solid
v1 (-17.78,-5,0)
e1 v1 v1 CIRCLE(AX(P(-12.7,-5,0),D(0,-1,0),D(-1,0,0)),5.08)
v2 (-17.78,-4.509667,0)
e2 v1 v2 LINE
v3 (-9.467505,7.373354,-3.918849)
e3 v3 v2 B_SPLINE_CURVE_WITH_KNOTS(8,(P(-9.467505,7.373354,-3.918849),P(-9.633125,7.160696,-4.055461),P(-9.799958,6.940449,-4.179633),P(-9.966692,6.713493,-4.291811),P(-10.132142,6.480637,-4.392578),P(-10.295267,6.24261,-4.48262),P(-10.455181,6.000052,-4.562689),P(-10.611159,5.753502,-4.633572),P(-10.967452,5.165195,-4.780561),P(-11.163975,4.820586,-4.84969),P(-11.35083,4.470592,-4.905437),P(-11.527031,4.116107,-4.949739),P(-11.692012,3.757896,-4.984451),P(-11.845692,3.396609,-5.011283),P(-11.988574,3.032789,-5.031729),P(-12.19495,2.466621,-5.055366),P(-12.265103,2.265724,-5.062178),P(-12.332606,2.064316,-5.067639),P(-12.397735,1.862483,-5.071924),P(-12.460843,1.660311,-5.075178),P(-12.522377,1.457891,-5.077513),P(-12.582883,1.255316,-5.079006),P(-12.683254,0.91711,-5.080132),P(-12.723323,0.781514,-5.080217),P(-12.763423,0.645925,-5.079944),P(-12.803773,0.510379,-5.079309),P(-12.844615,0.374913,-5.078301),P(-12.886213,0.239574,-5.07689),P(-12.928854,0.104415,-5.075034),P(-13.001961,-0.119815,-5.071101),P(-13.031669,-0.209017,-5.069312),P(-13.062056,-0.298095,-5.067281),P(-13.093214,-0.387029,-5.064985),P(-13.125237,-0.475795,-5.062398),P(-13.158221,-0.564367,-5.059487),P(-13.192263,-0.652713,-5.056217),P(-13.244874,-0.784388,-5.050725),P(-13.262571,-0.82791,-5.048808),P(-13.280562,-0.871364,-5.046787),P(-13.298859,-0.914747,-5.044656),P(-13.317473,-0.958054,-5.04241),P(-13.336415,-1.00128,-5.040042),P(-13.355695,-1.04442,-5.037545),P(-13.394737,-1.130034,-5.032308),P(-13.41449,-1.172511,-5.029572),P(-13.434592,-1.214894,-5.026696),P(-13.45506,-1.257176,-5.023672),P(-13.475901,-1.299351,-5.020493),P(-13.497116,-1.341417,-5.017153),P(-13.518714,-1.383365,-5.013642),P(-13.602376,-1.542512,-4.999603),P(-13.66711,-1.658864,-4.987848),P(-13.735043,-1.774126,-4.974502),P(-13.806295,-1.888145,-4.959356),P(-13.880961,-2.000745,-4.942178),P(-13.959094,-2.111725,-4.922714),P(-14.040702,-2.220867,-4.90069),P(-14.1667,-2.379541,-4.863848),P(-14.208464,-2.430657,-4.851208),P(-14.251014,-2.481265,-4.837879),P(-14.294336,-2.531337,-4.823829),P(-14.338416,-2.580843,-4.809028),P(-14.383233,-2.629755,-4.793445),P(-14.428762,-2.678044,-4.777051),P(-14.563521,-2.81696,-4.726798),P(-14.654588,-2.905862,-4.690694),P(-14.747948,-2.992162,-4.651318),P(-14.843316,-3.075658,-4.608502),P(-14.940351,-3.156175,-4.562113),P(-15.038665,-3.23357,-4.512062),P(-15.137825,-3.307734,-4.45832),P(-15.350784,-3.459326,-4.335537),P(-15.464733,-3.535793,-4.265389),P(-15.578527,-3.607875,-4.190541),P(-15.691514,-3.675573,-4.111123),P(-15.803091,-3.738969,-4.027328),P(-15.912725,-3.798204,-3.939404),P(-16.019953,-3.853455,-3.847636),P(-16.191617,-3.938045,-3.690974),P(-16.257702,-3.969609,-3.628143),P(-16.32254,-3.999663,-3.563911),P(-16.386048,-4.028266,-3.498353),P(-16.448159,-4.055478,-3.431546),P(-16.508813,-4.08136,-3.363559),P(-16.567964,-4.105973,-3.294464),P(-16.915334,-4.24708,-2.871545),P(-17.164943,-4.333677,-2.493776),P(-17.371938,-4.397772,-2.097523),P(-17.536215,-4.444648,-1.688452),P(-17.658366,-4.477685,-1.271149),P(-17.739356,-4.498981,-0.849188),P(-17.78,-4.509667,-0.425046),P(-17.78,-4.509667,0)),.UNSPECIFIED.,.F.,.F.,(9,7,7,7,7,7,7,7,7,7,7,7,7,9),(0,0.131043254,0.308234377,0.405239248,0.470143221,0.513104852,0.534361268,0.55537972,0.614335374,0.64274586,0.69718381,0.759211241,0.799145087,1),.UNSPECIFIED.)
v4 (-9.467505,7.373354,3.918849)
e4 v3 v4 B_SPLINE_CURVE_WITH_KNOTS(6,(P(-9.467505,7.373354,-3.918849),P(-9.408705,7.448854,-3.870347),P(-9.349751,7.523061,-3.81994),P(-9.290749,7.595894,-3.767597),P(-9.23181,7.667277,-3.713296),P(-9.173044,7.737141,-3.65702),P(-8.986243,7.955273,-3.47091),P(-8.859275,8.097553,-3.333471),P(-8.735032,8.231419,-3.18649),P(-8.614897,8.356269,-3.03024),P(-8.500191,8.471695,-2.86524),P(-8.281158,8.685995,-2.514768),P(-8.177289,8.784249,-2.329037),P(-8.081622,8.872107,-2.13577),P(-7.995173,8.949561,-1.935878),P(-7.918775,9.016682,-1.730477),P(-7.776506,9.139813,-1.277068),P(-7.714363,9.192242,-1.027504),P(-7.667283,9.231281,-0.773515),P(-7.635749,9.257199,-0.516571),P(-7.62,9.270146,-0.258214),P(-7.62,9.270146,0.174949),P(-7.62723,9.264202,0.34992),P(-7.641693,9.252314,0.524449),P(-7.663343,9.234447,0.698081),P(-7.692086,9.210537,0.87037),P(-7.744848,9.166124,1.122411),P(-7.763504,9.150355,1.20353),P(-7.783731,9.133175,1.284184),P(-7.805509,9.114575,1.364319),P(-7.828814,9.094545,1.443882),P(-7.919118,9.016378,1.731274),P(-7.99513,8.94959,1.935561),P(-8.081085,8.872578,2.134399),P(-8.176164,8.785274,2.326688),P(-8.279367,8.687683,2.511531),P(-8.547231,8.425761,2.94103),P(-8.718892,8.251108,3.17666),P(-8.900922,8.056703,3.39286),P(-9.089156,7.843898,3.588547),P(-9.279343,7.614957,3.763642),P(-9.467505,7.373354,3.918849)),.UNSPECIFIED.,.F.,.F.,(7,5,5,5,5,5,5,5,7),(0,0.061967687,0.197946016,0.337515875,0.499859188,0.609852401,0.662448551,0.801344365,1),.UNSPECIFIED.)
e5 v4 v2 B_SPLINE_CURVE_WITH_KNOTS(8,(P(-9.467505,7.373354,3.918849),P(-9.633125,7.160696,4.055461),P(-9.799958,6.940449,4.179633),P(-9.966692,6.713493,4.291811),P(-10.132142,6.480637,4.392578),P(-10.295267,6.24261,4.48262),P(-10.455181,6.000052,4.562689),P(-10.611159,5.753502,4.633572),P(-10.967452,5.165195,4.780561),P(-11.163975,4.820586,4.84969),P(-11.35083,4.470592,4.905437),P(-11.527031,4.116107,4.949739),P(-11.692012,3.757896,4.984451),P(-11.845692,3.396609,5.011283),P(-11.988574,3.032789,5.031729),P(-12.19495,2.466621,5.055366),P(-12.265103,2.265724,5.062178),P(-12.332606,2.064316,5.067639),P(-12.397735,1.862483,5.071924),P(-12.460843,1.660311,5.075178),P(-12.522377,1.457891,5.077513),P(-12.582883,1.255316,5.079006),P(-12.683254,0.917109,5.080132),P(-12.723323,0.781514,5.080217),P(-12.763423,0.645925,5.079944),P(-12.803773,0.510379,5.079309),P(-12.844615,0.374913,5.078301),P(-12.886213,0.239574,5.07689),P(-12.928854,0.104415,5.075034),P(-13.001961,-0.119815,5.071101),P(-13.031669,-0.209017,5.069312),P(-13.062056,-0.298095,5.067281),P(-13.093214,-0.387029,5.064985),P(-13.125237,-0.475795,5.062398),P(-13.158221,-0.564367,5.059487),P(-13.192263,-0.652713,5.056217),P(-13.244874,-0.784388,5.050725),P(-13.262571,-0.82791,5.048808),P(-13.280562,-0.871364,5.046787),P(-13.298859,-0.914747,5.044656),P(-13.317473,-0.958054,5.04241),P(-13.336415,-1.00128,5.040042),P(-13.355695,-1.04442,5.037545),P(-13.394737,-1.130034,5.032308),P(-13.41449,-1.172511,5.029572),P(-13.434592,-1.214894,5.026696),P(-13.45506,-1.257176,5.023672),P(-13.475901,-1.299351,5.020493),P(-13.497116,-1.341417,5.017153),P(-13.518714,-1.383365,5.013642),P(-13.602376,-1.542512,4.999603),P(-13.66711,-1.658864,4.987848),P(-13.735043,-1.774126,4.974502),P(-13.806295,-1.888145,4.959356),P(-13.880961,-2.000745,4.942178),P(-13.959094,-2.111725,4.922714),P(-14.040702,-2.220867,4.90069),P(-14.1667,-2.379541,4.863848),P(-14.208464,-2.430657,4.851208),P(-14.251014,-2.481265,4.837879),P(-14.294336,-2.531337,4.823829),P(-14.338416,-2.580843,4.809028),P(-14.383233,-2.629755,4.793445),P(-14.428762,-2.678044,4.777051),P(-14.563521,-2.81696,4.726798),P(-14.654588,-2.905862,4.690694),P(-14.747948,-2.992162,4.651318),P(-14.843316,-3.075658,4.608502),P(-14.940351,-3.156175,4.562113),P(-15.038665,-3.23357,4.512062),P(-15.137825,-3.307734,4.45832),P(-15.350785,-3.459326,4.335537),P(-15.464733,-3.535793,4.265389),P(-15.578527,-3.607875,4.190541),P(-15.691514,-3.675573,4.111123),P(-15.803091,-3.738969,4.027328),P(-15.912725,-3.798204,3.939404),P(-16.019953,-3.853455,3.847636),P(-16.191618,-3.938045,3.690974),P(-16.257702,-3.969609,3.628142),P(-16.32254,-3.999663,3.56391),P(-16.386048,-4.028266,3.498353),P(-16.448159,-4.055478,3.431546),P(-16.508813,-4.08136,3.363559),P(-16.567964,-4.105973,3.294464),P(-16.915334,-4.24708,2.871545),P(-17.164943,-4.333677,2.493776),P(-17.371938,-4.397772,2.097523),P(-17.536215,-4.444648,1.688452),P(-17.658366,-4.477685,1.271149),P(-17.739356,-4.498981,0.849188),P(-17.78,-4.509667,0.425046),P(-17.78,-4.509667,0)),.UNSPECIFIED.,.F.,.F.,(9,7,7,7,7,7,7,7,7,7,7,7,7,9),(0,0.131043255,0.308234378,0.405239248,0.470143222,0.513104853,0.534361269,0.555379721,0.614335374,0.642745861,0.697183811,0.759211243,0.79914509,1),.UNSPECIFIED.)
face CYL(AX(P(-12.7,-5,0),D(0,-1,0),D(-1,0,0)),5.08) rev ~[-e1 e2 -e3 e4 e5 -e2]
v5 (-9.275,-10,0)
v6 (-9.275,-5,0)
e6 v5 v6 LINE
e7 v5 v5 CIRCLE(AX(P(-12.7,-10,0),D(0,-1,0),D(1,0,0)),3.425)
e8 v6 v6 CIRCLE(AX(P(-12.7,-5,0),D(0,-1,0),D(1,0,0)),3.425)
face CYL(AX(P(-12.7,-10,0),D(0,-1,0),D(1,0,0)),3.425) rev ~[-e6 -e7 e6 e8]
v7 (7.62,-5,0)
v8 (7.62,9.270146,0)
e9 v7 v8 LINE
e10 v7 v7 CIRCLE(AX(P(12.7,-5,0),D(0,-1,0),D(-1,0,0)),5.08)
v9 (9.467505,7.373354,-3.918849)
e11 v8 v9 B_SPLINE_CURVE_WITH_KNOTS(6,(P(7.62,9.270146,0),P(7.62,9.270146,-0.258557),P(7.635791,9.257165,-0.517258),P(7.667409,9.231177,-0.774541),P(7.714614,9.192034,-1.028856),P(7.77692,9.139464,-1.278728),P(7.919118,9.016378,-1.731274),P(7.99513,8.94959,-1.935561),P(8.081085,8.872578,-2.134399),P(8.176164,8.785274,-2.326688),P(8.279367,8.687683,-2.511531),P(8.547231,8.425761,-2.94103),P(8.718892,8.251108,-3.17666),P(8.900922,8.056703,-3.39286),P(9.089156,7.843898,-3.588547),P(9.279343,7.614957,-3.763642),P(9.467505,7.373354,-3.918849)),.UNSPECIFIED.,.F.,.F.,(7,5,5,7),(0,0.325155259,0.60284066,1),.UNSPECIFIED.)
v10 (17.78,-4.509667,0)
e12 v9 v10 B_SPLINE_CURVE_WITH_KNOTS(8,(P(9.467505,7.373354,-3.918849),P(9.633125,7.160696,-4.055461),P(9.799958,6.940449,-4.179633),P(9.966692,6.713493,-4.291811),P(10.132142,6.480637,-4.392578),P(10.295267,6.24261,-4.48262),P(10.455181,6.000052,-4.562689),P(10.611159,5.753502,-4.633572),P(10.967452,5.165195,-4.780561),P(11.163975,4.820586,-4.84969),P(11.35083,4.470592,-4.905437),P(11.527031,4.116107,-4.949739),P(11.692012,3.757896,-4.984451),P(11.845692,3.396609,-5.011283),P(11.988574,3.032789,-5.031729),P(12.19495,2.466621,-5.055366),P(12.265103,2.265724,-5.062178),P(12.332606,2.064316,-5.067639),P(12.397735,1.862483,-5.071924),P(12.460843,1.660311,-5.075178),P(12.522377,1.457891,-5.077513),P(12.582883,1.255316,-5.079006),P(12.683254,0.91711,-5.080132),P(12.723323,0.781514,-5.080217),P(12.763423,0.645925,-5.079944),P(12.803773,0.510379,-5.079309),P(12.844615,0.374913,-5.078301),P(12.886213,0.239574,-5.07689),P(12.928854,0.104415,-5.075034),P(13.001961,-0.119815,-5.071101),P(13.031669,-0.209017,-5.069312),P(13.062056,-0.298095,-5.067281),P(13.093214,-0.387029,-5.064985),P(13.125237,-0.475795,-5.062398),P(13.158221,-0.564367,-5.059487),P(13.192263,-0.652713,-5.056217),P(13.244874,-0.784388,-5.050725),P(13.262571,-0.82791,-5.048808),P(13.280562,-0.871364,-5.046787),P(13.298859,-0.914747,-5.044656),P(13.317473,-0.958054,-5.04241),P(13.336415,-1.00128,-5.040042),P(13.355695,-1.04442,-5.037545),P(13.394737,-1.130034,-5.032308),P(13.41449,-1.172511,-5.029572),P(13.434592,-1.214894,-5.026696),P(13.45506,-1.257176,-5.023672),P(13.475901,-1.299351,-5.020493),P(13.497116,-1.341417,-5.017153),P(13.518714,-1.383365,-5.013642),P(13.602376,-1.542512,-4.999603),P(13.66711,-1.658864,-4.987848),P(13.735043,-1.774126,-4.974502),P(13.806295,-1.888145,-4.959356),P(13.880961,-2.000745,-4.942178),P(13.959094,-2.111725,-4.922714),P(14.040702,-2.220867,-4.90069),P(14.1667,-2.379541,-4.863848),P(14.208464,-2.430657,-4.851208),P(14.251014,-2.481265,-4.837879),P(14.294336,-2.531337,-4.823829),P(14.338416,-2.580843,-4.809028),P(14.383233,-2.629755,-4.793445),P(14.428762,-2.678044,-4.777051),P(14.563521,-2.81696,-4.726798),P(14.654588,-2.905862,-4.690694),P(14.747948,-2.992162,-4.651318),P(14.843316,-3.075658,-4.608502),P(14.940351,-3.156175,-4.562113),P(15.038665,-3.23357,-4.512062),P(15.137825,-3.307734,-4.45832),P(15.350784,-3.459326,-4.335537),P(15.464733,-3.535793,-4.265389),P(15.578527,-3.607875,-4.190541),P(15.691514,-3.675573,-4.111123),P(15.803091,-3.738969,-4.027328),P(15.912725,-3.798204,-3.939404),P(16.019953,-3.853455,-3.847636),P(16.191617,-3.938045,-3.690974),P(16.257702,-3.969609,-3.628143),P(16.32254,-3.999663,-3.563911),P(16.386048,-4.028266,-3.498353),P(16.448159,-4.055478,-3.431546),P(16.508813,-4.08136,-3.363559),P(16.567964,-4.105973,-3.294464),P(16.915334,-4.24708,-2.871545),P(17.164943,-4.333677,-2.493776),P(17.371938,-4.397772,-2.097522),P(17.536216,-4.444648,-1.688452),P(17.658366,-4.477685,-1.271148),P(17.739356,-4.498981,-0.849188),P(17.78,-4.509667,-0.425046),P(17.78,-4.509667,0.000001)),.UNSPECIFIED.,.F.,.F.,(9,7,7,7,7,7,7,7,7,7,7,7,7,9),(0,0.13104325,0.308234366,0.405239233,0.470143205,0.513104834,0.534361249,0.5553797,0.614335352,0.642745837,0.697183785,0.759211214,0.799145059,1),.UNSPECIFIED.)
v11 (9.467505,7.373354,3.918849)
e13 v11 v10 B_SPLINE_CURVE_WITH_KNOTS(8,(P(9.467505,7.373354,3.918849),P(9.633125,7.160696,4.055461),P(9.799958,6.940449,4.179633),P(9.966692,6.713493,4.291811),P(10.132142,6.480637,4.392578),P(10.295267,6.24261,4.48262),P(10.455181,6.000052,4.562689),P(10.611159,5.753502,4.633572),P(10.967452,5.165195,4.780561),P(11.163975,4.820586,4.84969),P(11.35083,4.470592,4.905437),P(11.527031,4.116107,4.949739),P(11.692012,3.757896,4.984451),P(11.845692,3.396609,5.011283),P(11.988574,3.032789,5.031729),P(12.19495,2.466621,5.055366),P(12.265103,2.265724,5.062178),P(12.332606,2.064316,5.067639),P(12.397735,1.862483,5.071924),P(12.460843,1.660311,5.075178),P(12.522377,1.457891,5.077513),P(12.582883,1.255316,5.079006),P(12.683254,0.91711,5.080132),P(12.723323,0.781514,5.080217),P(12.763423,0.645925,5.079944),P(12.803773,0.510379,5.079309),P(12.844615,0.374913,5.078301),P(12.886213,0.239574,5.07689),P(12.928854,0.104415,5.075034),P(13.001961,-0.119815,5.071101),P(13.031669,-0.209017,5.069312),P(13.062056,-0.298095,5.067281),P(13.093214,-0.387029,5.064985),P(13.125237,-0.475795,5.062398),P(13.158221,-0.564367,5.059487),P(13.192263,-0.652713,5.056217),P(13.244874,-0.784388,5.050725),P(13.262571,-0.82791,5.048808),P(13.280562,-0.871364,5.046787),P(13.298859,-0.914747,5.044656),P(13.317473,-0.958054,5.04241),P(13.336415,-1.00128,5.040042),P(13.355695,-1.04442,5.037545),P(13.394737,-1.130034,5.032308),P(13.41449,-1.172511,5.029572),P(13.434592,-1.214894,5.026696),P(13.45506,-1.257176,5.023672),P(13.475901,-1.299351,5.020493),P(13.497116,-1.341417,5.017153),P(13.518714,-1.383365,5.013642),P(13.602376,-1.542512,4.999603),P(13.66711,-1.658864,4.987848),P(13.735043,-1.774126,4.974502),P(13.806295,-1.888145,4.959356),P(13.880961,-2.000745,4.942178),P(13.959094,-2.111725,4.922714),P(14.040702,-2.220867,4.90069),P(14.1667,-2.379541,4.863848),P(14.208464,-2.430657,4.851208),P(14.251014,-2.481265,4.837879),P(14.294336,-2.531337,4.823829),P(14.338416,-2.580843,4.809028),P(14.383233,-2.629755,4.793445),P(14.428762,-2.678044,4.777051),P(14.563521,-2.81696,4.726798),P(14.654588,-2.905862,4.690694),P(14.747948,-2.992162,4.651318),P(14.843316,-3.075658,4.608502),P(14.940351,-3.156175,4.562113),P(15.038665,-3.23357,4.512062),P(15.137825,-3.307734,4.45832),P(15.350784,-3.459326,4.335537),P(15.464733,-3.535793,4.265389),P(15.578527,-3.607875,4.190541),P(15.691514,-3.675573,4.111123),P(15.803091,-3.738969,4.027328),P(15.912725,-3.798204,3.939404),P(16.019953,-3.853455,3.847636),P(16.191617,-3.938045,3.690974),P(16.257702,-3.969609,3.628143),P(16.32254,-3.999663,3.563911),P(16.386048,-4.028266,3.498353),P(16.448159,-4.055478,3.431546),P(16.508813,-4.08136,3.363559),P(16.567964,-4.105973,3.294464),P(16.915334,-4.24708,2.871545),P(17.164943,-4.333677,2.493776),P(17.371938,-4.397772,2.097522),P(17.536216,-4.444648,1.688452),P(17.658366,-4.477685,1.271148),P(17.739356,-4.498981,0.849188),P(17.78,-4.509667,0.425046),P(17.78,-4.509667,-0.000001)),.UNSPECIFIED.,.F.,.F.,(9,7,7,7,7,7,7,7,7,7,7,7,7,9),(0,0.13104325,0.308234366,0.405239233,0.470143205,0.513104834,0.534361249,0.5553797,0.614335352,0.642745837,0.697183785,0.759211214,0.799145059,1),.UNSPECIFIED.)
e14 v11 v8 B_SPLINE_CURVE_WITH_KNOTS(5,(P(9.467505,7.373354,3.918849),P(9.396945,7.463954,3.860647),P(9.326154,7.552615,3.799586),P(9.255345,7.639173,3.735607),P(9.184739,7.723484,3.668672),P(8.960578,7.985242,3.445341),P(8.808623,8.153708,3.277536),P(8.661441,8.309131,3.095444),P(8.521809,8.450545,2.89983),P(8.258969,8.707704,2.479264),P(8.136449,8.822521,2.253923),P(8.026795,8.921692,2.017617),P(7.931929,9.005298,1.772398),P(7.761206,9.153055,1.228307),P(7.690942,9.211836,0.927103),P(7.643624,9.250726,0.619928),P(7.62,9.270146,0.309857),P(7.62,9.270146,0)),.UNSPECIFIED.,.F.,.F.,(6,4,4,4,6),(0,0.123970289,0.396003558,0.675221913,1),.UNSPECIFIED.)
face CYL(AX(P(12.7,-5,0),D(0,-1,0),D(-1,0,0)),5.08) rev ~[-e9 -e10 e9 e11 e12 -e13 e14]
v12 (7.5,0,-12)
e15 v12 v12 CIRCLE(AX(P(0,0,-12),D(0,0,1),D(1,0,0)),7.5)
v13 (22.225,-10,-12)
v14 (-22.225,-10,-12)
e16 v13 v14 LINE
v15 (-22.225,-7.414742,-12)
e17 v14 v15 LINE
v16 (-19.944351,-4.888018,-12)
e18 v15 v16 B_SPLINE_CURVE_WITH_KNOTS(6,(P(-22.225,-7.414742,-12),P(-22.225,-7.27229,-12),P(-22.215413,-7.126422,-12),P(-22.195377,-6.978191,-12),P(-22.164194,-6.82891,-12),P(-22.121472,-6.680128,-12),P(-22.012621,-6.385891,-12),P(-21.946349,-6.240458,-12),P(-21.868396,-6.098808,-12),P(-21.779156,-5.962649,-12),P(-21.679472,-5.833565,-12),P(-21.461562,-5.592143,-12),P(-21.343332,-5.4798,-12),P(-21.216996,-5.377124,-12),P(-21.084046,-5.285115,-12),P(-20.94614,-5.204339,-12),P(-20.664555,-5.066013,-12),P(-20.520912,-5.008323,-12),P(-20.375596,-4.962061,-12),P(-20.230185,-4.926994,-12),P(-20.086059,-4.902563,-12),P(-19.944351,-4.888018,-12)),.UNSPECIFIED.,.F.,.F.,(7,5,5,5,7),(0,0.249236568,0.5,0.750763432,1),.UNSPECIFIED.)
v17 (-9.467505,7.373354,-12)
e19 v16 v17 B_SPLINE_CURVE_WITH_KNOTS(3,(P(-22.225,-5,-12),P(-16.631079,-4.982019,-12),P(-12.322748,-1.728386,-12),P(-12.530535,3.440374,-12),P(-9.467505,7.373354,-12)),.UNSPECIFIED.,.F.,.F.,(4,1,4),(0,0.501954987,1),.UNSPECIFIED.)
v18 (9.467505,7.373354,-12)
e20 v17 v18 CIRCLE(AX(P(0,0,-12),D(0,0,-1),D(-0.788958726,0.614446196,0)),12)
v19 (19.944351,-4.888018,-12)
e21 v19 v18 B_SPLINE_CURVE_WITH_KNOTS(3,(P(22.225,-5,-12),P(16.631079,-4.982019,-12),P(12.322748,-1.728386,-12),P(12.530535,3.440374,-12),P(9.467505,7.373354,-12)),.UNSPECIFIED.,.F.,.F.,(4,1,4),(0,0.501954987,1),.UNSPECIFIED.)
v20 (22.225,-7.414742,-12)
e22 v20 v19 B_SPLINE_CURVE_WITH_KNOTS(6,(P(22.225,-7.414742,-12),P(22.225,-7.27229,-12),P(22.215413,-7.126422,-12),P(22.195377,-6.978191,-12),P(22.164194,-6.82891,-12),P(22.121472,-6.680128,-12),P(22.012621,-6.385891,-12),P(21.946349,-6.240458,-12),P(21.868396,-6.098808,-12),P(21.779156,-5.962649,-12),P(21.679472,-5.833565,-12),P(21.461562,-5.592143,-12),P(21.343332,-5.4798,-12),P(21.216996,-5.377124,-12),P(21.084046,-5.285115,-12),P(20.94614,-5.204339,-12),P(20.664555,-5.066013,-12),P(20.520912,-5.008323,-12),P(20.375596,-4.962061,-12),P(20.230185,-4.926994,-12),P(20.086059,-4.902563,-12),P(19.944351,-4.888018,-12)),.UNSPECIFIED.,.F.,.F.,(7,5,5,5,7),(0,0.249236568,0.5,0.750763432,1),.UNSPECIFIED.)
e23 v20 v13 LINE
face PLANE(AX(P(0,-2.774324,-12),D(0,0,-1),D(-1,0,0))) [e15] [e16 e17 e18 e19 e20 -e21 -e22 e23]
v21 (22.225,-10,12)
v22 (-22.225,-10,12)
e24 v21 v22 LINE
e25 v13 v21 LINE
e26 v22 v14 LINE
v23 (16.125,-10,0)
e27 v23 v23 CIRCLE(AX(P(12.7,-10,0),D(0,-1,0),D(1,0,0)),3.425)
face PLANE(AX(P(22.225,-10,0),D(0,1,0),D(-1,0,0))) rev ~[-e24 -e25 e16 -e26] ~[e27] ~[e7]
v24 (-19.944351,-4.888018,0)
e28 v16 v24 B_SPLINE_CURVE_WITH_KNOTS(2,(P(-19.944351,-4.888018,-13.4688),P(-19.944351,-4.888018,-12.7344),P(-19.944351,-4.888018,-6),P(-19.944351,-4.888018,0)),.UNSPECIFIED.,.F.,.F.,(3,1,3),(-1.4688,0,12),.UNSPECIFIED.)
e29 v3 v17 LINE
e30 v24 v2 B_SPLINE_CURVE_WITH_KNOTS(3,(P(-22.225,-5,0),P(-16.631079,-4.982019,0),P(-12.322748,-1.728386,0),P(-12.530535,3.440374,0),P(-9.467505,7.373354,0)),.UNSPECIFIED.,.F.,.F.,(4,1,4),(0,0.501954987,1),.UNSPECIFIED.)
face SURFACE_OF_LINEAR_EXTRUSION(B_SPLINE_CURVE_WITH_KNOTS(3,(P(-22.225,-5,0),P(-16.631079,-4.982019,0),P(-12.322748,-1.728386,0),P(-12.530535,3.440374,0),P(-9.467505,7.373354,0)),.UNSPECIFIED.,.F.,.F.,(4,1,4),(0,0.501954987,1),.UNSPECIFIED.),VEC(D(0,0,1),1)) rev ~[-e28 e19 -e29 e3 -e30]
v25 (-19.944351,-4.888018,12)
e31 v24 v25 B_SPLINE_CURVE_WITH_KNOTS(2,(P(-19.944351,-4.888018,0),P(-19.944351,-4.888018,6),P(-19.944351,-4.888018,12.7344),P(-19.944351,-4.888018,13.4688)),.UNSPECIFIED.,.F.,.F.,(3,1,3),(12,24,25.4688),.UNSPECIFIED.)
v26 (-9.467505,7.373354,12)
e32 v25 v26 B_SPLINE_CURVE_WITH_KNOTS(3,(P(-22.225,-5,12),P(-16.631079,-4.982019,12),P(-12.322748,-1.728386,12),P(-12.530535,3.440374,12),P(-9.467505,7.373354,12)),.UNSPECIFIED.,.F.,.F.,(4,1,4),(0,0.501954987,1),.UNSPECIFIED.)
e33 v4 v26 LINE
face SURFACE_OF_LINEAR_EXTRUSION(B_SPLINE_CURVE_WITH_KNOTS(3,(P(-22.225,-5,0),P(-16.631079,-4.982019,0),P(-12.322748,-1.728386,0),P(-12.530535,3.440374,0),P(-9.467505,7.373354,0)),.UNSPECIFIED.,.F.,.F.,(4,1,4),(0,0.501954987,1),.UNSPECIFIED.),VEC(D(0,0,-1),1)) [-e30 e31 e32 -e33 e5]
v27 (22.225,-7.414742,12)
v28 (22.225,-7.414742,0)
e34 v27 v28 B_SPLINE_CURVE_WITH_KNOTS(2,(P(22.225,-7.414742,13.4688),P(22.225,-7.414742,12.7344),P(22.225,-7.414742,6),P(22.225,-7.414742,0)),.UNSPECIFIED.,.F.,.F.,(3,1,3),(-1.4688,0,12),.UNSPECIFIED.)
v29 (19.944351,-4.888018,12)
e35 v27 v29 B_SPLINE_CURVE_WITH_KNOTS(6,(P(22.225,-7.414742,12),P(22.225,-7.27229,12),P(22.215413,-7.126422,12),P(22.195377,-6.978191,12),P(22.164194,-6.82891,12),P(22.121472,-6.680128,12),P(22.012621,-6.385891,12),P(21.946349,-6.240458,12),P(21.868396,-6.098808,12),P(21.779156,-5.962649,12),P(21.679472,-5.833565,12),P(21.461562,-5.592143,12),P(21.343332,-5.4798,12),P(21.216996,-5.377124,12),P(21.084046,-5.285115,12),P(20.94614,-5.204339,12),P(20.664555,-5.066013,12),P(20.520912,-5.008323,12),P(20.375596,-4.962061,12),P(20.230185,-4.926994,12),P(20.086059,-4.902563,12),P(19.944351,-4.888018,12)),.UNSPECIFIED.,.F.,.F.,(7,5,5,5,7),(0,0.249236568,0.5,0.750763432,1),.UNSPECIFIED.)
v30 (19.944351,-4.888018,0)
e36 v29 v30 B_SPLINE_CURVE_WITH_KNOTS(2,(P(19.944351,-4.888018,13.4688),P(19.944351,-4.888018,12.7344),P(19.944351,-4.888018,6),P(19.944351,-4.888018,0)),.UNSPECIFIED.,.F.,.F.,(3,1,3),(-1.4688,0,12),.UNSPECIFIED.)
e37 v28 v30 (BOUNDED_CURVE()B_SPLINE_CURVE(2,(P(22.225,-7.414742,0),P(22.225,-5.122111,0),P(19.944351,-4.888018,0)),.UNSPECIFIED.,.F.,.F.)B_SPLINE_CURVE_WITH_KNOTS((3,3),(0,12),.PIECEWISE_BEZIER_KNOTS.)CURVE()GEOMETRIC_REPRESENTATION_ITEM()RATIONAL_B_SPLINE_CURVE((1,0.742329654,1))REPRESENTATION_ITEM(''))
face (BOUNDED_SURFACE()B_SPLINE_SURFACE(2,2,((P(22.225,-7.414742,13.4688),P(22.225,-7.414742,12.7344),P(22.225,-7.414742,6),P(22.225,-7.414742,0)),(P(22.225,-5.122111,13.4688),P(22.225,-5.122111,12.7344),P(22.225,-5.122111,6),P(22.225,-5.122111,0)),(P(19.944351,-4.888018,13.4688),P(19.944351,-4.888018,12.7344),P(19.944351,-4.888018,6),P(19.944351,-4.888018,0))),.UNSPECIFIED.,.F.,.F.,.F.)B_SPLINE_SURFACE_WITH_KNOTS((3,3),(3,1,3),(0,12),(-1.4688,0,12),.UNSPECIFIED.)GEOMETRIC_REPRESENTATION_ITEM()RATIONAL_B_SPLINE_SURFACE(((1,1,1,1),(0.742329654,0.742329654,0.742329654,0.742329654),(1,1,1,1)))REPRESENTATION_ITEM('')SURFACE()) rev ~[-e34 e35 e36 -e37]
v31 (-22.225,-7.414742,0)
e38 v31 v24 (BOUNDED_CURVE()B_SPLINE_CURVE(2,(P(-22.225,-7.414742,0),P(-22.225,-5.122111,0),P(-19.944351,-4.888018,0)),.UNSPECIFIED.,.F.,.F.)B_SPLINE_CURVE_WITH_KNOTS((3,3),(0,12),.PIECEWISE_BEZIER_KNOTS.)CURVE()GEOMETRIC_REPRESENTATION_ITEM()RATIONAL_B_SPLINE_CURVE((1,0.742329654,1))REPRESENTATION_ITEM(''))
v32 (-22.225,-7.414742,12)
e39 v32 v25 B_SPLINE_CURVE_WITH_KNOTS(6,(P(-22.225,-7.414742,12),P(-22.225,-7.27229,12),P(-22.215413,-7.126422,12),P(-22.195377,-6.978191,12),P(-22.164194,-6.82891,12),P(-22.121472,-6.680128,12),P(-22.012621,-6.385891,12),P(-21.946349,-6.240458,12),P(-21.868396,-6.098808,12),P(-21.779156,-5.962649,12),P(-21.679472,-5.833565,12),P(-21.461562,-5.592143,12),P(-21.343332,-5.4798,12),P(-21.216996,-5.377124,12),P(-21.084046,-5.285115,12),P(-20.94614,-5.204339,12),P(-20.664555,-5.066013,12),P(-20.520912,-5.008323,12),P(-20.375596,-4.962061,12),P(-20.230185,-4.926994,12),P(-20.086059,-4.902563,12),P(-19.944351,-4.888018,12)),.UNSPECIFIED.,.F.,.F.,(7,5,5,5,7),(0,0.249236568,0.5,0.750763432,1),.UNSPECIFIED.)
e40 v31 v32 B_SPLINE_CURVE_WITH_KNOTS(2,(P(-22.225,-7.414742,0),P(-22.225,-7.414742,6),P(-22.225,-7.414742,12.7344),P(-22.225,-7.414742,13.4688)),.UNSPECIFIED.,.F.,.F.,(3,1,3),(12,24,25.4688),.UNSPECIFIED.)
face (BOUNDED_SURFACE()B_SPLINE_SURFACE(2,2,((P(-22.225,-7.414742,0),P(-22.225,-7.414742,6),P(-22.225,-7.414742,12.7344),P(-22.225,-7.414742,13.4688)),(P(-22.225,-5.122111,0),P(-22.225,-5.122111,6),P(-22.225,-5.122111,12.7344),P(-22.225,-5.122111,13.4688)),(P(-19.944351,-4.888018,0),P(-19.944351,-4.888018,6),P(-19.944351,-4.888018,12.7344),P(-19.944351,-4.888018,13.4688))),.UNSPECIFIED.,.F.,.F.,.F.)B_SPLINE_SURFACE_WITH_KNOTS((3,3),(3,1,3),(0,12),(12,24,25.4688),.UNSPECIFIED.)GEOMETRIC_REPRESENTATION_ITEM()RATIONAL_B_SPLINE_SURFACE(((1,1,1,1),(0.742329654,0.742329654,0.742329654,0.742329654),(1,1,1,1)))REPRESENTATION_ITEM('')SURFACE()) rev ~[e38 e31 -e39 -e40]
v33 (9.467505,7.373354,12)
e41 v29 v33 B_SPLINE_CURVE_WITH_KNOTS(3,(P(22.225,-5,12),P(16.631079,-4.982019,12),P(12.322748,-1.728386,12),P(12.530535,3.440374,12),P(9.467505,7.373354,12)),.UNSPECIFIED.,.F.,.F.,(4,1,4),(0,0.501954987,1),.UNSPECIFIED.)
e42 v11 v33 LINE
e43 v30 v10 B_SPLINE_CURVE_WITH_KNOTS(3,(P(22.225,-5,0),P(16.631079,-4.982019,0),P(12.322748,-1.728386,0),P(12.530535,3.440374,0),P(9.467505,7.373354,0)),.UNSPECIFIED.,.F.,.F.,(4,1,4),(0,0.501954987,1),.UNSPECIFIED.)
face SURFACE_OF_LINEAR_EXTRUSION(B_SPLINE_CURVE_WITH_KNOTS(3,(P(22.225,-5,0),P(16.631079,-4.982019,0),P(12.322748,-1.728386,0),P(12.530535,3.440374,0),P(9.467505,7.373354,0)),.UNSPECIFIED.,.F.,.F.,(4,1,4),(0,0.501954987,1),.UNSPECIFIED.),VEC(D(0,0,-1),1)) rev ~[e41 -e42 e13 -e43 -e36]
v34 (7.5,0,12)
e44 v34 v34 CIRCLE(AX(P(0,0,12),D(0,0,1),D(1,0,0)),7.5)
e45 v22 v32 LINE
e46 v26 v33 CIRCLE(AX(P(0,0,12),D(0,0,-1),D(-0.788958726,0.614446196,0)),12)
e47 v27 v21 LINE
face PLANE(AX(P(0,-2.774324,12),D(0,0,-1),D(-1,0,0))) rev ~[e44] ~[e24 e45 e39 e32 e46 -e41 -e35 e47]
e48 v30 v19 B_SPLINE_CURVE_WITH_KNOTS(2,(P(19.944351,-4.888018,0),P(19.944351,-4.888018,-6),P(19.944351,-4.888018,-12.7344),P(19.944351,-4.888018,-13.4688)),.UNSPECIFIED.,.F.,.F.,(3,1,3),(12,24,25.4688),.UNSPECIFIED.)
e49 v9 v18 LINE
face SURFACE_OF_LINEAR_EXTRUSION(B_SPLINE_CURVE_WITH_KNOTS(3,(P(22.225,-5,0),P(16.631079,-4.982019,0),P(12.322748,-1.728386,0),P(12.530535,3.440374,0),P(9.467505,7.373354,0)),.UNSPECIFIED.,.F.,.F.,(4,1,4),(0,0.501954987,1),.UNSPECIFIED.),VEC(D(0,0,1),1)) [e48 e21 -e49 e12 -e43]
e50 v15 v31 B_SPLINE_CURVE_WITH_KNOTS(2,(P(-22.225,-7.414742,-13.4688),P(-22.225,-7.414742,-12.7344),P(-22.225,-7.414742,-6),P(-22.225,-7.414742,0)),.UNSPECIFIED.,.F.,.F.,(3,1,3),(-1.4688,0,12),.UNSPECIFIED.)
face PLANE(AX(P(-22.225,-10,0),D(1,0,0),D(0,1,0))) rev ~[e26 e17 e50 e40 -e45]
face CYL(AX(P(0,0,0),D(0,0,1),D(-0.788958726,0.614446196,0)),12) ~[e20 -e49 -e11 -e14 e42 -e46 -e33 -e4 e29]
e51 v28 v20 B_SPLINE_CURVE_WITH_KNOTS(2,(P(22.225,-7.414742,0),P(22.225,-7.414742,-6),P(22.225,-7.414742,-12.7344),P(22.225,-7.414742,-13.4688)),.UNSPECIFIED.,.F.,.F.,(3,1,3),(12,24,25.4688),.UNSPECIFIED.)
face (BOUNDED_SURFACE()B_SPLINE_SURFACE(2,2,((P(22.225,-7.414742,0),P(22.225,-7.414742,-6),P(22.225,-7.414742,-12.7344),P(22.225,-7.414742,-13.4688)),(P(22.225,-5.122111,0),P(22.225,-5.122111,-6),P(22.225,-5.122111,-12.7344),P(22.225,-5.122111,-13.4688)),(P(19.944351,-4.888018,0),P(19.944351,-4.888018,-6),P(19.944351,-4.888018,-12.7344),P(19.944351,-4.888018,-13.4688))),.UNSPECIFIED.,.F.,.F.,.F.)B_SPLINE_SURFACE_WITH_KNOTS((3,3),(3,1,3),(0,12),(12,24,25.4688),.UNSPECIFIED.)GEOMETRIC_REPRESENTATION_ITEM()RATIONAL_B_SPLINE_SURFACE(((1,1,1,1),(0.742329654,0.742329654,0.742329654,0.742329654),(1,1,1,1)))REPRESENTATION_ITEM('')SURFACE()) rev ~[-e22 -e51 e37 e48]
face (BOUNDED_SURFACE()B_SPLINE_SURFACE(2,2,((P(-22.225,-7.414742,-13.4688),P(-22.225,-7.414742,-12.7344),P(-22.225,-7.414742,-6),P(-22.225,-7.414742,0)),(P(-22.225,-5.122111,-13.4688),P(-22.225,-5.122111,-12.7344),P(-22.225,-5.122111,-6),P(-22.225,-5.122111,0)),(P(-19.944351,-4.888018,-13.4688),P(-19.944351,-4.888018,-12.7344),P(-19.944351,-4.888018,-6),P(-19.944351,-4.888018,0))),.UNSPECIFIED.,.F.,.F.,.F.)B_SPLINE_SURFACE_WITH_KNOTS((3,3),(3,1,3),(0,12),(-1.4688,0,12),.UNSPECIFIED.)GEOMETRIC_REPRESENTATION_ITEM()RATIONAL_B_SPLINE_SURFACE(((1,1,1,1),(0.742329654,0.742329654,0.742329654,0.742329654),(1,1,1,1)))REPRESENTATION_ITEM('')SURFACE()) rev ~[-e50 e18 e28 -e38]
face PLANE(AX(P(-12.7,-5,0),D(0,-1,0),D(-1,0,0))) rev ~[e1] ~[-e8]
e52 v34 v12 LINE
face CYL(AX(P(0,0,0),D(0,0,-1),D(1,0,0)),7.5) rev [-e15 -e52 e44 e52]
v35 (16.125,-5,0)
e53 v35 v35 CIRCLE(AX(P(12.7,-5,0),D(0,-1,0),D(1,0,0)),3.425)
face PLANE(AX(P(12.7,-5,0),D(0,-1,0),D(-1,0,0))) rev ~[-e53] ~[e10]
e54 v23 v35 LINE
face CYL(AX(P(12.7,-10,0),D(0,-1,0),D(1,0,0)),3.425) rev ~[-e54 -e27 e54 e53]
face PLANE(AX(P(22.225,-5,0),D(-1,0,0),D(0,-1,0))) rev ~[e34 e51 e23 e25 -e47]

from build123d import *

# Parameters (mm, degrees)
SKETCH1_R           = 7.5
BOSS_EXTRUDE1_DEPTH = 12
SKETCH3_R           = 3.425
CUT_EXTRUDE1_DEPTH  = 23.0000001
FILLET1_R           = 2.54
SKETCH4_R           = 5.08
CUT_EXTRUDE2_DEPTH  = 18.000000194


with BuildPart() as part:
    # Sketch1 → Boss-Extrude1 (new body, symmetric)
    with BuildSketch(Plane.XY):
        with BuildLine():
            Line((22.225, -10), (-22.225, -10))
            Line((-22.225, -10), (-22.225, -5))
            add(Edge.make_bspline(
                [(-22.225, -5), (-16.631079064, -4.98201906), (-12.322747723, -1.728386223), (-12.530535341, 3.440374129), (-9.467504716, 7.373354356)],
                knots=[0, 0, 0, 0, 0.501954987, 1, 1, 1, 1], degree=3))
            ThreePointArc((-9.467504716, 7.373354356), (0, 12), (9.467504716, 7.373354356))
            add(Edge.make_bspline(
                [(22.225, -5), (16.631079064, -4.98201906), (12.322747723, -1.728386223), (12.530535341, 3.440374129), (9.467504716, 7.373354356)],
                knots=[0, 0, 0, 0, 0.501954987, 1, 1, 1, 1], degree=3))
            Line((22.225, -5), (22.225, -10))
        make_face()
        Circle(SKETCH1_R, mode=Mode.SUBTRACT)
    extrude(amount=BOSS_EXTRUDE1_DEPTH, both=True)

    # Sketch3 → Cut-Extrude1 (cut, through all)
    with BuildSketch(Plane.XZ.offset(10)):
        with Locations((-12.7, 0)):
            Circle(SKETCH3_R)
        with Locations((12.7, 0)):
            Circle(SKETCH3_R)
    extrude(amount=-CUT_EXTRUDE1_DEPTH, mode=Mode.SUBTRACT)

    # Fillet1
    fillet1_edges = [part.edges().sort_by_distance(p)[0] for p in [
        (22.225, -5, -6),
        (-22.225, -5, 6),
    ]]
    fillet(fillet1_edges, radius=FILLET1_R)

    # Sketch4 → Cut-Extrude2 (cut, through all)
    with BuildSketch(Plane(origin=(0, -5.000000094, 0), x_dir=(-1, 0, 0), z_dir=(0, -1, 0))):
        with Locations((12.7, 0)):
            Circle(SKETCH4_R)
        with Locations((-12.7, 0)):
            Circle(SKETCH4_R)
    extrude(amount=-CUT_EXTRUDE2_DEPTH, mode=Mode.SUBTRACT)


solid = part.part
